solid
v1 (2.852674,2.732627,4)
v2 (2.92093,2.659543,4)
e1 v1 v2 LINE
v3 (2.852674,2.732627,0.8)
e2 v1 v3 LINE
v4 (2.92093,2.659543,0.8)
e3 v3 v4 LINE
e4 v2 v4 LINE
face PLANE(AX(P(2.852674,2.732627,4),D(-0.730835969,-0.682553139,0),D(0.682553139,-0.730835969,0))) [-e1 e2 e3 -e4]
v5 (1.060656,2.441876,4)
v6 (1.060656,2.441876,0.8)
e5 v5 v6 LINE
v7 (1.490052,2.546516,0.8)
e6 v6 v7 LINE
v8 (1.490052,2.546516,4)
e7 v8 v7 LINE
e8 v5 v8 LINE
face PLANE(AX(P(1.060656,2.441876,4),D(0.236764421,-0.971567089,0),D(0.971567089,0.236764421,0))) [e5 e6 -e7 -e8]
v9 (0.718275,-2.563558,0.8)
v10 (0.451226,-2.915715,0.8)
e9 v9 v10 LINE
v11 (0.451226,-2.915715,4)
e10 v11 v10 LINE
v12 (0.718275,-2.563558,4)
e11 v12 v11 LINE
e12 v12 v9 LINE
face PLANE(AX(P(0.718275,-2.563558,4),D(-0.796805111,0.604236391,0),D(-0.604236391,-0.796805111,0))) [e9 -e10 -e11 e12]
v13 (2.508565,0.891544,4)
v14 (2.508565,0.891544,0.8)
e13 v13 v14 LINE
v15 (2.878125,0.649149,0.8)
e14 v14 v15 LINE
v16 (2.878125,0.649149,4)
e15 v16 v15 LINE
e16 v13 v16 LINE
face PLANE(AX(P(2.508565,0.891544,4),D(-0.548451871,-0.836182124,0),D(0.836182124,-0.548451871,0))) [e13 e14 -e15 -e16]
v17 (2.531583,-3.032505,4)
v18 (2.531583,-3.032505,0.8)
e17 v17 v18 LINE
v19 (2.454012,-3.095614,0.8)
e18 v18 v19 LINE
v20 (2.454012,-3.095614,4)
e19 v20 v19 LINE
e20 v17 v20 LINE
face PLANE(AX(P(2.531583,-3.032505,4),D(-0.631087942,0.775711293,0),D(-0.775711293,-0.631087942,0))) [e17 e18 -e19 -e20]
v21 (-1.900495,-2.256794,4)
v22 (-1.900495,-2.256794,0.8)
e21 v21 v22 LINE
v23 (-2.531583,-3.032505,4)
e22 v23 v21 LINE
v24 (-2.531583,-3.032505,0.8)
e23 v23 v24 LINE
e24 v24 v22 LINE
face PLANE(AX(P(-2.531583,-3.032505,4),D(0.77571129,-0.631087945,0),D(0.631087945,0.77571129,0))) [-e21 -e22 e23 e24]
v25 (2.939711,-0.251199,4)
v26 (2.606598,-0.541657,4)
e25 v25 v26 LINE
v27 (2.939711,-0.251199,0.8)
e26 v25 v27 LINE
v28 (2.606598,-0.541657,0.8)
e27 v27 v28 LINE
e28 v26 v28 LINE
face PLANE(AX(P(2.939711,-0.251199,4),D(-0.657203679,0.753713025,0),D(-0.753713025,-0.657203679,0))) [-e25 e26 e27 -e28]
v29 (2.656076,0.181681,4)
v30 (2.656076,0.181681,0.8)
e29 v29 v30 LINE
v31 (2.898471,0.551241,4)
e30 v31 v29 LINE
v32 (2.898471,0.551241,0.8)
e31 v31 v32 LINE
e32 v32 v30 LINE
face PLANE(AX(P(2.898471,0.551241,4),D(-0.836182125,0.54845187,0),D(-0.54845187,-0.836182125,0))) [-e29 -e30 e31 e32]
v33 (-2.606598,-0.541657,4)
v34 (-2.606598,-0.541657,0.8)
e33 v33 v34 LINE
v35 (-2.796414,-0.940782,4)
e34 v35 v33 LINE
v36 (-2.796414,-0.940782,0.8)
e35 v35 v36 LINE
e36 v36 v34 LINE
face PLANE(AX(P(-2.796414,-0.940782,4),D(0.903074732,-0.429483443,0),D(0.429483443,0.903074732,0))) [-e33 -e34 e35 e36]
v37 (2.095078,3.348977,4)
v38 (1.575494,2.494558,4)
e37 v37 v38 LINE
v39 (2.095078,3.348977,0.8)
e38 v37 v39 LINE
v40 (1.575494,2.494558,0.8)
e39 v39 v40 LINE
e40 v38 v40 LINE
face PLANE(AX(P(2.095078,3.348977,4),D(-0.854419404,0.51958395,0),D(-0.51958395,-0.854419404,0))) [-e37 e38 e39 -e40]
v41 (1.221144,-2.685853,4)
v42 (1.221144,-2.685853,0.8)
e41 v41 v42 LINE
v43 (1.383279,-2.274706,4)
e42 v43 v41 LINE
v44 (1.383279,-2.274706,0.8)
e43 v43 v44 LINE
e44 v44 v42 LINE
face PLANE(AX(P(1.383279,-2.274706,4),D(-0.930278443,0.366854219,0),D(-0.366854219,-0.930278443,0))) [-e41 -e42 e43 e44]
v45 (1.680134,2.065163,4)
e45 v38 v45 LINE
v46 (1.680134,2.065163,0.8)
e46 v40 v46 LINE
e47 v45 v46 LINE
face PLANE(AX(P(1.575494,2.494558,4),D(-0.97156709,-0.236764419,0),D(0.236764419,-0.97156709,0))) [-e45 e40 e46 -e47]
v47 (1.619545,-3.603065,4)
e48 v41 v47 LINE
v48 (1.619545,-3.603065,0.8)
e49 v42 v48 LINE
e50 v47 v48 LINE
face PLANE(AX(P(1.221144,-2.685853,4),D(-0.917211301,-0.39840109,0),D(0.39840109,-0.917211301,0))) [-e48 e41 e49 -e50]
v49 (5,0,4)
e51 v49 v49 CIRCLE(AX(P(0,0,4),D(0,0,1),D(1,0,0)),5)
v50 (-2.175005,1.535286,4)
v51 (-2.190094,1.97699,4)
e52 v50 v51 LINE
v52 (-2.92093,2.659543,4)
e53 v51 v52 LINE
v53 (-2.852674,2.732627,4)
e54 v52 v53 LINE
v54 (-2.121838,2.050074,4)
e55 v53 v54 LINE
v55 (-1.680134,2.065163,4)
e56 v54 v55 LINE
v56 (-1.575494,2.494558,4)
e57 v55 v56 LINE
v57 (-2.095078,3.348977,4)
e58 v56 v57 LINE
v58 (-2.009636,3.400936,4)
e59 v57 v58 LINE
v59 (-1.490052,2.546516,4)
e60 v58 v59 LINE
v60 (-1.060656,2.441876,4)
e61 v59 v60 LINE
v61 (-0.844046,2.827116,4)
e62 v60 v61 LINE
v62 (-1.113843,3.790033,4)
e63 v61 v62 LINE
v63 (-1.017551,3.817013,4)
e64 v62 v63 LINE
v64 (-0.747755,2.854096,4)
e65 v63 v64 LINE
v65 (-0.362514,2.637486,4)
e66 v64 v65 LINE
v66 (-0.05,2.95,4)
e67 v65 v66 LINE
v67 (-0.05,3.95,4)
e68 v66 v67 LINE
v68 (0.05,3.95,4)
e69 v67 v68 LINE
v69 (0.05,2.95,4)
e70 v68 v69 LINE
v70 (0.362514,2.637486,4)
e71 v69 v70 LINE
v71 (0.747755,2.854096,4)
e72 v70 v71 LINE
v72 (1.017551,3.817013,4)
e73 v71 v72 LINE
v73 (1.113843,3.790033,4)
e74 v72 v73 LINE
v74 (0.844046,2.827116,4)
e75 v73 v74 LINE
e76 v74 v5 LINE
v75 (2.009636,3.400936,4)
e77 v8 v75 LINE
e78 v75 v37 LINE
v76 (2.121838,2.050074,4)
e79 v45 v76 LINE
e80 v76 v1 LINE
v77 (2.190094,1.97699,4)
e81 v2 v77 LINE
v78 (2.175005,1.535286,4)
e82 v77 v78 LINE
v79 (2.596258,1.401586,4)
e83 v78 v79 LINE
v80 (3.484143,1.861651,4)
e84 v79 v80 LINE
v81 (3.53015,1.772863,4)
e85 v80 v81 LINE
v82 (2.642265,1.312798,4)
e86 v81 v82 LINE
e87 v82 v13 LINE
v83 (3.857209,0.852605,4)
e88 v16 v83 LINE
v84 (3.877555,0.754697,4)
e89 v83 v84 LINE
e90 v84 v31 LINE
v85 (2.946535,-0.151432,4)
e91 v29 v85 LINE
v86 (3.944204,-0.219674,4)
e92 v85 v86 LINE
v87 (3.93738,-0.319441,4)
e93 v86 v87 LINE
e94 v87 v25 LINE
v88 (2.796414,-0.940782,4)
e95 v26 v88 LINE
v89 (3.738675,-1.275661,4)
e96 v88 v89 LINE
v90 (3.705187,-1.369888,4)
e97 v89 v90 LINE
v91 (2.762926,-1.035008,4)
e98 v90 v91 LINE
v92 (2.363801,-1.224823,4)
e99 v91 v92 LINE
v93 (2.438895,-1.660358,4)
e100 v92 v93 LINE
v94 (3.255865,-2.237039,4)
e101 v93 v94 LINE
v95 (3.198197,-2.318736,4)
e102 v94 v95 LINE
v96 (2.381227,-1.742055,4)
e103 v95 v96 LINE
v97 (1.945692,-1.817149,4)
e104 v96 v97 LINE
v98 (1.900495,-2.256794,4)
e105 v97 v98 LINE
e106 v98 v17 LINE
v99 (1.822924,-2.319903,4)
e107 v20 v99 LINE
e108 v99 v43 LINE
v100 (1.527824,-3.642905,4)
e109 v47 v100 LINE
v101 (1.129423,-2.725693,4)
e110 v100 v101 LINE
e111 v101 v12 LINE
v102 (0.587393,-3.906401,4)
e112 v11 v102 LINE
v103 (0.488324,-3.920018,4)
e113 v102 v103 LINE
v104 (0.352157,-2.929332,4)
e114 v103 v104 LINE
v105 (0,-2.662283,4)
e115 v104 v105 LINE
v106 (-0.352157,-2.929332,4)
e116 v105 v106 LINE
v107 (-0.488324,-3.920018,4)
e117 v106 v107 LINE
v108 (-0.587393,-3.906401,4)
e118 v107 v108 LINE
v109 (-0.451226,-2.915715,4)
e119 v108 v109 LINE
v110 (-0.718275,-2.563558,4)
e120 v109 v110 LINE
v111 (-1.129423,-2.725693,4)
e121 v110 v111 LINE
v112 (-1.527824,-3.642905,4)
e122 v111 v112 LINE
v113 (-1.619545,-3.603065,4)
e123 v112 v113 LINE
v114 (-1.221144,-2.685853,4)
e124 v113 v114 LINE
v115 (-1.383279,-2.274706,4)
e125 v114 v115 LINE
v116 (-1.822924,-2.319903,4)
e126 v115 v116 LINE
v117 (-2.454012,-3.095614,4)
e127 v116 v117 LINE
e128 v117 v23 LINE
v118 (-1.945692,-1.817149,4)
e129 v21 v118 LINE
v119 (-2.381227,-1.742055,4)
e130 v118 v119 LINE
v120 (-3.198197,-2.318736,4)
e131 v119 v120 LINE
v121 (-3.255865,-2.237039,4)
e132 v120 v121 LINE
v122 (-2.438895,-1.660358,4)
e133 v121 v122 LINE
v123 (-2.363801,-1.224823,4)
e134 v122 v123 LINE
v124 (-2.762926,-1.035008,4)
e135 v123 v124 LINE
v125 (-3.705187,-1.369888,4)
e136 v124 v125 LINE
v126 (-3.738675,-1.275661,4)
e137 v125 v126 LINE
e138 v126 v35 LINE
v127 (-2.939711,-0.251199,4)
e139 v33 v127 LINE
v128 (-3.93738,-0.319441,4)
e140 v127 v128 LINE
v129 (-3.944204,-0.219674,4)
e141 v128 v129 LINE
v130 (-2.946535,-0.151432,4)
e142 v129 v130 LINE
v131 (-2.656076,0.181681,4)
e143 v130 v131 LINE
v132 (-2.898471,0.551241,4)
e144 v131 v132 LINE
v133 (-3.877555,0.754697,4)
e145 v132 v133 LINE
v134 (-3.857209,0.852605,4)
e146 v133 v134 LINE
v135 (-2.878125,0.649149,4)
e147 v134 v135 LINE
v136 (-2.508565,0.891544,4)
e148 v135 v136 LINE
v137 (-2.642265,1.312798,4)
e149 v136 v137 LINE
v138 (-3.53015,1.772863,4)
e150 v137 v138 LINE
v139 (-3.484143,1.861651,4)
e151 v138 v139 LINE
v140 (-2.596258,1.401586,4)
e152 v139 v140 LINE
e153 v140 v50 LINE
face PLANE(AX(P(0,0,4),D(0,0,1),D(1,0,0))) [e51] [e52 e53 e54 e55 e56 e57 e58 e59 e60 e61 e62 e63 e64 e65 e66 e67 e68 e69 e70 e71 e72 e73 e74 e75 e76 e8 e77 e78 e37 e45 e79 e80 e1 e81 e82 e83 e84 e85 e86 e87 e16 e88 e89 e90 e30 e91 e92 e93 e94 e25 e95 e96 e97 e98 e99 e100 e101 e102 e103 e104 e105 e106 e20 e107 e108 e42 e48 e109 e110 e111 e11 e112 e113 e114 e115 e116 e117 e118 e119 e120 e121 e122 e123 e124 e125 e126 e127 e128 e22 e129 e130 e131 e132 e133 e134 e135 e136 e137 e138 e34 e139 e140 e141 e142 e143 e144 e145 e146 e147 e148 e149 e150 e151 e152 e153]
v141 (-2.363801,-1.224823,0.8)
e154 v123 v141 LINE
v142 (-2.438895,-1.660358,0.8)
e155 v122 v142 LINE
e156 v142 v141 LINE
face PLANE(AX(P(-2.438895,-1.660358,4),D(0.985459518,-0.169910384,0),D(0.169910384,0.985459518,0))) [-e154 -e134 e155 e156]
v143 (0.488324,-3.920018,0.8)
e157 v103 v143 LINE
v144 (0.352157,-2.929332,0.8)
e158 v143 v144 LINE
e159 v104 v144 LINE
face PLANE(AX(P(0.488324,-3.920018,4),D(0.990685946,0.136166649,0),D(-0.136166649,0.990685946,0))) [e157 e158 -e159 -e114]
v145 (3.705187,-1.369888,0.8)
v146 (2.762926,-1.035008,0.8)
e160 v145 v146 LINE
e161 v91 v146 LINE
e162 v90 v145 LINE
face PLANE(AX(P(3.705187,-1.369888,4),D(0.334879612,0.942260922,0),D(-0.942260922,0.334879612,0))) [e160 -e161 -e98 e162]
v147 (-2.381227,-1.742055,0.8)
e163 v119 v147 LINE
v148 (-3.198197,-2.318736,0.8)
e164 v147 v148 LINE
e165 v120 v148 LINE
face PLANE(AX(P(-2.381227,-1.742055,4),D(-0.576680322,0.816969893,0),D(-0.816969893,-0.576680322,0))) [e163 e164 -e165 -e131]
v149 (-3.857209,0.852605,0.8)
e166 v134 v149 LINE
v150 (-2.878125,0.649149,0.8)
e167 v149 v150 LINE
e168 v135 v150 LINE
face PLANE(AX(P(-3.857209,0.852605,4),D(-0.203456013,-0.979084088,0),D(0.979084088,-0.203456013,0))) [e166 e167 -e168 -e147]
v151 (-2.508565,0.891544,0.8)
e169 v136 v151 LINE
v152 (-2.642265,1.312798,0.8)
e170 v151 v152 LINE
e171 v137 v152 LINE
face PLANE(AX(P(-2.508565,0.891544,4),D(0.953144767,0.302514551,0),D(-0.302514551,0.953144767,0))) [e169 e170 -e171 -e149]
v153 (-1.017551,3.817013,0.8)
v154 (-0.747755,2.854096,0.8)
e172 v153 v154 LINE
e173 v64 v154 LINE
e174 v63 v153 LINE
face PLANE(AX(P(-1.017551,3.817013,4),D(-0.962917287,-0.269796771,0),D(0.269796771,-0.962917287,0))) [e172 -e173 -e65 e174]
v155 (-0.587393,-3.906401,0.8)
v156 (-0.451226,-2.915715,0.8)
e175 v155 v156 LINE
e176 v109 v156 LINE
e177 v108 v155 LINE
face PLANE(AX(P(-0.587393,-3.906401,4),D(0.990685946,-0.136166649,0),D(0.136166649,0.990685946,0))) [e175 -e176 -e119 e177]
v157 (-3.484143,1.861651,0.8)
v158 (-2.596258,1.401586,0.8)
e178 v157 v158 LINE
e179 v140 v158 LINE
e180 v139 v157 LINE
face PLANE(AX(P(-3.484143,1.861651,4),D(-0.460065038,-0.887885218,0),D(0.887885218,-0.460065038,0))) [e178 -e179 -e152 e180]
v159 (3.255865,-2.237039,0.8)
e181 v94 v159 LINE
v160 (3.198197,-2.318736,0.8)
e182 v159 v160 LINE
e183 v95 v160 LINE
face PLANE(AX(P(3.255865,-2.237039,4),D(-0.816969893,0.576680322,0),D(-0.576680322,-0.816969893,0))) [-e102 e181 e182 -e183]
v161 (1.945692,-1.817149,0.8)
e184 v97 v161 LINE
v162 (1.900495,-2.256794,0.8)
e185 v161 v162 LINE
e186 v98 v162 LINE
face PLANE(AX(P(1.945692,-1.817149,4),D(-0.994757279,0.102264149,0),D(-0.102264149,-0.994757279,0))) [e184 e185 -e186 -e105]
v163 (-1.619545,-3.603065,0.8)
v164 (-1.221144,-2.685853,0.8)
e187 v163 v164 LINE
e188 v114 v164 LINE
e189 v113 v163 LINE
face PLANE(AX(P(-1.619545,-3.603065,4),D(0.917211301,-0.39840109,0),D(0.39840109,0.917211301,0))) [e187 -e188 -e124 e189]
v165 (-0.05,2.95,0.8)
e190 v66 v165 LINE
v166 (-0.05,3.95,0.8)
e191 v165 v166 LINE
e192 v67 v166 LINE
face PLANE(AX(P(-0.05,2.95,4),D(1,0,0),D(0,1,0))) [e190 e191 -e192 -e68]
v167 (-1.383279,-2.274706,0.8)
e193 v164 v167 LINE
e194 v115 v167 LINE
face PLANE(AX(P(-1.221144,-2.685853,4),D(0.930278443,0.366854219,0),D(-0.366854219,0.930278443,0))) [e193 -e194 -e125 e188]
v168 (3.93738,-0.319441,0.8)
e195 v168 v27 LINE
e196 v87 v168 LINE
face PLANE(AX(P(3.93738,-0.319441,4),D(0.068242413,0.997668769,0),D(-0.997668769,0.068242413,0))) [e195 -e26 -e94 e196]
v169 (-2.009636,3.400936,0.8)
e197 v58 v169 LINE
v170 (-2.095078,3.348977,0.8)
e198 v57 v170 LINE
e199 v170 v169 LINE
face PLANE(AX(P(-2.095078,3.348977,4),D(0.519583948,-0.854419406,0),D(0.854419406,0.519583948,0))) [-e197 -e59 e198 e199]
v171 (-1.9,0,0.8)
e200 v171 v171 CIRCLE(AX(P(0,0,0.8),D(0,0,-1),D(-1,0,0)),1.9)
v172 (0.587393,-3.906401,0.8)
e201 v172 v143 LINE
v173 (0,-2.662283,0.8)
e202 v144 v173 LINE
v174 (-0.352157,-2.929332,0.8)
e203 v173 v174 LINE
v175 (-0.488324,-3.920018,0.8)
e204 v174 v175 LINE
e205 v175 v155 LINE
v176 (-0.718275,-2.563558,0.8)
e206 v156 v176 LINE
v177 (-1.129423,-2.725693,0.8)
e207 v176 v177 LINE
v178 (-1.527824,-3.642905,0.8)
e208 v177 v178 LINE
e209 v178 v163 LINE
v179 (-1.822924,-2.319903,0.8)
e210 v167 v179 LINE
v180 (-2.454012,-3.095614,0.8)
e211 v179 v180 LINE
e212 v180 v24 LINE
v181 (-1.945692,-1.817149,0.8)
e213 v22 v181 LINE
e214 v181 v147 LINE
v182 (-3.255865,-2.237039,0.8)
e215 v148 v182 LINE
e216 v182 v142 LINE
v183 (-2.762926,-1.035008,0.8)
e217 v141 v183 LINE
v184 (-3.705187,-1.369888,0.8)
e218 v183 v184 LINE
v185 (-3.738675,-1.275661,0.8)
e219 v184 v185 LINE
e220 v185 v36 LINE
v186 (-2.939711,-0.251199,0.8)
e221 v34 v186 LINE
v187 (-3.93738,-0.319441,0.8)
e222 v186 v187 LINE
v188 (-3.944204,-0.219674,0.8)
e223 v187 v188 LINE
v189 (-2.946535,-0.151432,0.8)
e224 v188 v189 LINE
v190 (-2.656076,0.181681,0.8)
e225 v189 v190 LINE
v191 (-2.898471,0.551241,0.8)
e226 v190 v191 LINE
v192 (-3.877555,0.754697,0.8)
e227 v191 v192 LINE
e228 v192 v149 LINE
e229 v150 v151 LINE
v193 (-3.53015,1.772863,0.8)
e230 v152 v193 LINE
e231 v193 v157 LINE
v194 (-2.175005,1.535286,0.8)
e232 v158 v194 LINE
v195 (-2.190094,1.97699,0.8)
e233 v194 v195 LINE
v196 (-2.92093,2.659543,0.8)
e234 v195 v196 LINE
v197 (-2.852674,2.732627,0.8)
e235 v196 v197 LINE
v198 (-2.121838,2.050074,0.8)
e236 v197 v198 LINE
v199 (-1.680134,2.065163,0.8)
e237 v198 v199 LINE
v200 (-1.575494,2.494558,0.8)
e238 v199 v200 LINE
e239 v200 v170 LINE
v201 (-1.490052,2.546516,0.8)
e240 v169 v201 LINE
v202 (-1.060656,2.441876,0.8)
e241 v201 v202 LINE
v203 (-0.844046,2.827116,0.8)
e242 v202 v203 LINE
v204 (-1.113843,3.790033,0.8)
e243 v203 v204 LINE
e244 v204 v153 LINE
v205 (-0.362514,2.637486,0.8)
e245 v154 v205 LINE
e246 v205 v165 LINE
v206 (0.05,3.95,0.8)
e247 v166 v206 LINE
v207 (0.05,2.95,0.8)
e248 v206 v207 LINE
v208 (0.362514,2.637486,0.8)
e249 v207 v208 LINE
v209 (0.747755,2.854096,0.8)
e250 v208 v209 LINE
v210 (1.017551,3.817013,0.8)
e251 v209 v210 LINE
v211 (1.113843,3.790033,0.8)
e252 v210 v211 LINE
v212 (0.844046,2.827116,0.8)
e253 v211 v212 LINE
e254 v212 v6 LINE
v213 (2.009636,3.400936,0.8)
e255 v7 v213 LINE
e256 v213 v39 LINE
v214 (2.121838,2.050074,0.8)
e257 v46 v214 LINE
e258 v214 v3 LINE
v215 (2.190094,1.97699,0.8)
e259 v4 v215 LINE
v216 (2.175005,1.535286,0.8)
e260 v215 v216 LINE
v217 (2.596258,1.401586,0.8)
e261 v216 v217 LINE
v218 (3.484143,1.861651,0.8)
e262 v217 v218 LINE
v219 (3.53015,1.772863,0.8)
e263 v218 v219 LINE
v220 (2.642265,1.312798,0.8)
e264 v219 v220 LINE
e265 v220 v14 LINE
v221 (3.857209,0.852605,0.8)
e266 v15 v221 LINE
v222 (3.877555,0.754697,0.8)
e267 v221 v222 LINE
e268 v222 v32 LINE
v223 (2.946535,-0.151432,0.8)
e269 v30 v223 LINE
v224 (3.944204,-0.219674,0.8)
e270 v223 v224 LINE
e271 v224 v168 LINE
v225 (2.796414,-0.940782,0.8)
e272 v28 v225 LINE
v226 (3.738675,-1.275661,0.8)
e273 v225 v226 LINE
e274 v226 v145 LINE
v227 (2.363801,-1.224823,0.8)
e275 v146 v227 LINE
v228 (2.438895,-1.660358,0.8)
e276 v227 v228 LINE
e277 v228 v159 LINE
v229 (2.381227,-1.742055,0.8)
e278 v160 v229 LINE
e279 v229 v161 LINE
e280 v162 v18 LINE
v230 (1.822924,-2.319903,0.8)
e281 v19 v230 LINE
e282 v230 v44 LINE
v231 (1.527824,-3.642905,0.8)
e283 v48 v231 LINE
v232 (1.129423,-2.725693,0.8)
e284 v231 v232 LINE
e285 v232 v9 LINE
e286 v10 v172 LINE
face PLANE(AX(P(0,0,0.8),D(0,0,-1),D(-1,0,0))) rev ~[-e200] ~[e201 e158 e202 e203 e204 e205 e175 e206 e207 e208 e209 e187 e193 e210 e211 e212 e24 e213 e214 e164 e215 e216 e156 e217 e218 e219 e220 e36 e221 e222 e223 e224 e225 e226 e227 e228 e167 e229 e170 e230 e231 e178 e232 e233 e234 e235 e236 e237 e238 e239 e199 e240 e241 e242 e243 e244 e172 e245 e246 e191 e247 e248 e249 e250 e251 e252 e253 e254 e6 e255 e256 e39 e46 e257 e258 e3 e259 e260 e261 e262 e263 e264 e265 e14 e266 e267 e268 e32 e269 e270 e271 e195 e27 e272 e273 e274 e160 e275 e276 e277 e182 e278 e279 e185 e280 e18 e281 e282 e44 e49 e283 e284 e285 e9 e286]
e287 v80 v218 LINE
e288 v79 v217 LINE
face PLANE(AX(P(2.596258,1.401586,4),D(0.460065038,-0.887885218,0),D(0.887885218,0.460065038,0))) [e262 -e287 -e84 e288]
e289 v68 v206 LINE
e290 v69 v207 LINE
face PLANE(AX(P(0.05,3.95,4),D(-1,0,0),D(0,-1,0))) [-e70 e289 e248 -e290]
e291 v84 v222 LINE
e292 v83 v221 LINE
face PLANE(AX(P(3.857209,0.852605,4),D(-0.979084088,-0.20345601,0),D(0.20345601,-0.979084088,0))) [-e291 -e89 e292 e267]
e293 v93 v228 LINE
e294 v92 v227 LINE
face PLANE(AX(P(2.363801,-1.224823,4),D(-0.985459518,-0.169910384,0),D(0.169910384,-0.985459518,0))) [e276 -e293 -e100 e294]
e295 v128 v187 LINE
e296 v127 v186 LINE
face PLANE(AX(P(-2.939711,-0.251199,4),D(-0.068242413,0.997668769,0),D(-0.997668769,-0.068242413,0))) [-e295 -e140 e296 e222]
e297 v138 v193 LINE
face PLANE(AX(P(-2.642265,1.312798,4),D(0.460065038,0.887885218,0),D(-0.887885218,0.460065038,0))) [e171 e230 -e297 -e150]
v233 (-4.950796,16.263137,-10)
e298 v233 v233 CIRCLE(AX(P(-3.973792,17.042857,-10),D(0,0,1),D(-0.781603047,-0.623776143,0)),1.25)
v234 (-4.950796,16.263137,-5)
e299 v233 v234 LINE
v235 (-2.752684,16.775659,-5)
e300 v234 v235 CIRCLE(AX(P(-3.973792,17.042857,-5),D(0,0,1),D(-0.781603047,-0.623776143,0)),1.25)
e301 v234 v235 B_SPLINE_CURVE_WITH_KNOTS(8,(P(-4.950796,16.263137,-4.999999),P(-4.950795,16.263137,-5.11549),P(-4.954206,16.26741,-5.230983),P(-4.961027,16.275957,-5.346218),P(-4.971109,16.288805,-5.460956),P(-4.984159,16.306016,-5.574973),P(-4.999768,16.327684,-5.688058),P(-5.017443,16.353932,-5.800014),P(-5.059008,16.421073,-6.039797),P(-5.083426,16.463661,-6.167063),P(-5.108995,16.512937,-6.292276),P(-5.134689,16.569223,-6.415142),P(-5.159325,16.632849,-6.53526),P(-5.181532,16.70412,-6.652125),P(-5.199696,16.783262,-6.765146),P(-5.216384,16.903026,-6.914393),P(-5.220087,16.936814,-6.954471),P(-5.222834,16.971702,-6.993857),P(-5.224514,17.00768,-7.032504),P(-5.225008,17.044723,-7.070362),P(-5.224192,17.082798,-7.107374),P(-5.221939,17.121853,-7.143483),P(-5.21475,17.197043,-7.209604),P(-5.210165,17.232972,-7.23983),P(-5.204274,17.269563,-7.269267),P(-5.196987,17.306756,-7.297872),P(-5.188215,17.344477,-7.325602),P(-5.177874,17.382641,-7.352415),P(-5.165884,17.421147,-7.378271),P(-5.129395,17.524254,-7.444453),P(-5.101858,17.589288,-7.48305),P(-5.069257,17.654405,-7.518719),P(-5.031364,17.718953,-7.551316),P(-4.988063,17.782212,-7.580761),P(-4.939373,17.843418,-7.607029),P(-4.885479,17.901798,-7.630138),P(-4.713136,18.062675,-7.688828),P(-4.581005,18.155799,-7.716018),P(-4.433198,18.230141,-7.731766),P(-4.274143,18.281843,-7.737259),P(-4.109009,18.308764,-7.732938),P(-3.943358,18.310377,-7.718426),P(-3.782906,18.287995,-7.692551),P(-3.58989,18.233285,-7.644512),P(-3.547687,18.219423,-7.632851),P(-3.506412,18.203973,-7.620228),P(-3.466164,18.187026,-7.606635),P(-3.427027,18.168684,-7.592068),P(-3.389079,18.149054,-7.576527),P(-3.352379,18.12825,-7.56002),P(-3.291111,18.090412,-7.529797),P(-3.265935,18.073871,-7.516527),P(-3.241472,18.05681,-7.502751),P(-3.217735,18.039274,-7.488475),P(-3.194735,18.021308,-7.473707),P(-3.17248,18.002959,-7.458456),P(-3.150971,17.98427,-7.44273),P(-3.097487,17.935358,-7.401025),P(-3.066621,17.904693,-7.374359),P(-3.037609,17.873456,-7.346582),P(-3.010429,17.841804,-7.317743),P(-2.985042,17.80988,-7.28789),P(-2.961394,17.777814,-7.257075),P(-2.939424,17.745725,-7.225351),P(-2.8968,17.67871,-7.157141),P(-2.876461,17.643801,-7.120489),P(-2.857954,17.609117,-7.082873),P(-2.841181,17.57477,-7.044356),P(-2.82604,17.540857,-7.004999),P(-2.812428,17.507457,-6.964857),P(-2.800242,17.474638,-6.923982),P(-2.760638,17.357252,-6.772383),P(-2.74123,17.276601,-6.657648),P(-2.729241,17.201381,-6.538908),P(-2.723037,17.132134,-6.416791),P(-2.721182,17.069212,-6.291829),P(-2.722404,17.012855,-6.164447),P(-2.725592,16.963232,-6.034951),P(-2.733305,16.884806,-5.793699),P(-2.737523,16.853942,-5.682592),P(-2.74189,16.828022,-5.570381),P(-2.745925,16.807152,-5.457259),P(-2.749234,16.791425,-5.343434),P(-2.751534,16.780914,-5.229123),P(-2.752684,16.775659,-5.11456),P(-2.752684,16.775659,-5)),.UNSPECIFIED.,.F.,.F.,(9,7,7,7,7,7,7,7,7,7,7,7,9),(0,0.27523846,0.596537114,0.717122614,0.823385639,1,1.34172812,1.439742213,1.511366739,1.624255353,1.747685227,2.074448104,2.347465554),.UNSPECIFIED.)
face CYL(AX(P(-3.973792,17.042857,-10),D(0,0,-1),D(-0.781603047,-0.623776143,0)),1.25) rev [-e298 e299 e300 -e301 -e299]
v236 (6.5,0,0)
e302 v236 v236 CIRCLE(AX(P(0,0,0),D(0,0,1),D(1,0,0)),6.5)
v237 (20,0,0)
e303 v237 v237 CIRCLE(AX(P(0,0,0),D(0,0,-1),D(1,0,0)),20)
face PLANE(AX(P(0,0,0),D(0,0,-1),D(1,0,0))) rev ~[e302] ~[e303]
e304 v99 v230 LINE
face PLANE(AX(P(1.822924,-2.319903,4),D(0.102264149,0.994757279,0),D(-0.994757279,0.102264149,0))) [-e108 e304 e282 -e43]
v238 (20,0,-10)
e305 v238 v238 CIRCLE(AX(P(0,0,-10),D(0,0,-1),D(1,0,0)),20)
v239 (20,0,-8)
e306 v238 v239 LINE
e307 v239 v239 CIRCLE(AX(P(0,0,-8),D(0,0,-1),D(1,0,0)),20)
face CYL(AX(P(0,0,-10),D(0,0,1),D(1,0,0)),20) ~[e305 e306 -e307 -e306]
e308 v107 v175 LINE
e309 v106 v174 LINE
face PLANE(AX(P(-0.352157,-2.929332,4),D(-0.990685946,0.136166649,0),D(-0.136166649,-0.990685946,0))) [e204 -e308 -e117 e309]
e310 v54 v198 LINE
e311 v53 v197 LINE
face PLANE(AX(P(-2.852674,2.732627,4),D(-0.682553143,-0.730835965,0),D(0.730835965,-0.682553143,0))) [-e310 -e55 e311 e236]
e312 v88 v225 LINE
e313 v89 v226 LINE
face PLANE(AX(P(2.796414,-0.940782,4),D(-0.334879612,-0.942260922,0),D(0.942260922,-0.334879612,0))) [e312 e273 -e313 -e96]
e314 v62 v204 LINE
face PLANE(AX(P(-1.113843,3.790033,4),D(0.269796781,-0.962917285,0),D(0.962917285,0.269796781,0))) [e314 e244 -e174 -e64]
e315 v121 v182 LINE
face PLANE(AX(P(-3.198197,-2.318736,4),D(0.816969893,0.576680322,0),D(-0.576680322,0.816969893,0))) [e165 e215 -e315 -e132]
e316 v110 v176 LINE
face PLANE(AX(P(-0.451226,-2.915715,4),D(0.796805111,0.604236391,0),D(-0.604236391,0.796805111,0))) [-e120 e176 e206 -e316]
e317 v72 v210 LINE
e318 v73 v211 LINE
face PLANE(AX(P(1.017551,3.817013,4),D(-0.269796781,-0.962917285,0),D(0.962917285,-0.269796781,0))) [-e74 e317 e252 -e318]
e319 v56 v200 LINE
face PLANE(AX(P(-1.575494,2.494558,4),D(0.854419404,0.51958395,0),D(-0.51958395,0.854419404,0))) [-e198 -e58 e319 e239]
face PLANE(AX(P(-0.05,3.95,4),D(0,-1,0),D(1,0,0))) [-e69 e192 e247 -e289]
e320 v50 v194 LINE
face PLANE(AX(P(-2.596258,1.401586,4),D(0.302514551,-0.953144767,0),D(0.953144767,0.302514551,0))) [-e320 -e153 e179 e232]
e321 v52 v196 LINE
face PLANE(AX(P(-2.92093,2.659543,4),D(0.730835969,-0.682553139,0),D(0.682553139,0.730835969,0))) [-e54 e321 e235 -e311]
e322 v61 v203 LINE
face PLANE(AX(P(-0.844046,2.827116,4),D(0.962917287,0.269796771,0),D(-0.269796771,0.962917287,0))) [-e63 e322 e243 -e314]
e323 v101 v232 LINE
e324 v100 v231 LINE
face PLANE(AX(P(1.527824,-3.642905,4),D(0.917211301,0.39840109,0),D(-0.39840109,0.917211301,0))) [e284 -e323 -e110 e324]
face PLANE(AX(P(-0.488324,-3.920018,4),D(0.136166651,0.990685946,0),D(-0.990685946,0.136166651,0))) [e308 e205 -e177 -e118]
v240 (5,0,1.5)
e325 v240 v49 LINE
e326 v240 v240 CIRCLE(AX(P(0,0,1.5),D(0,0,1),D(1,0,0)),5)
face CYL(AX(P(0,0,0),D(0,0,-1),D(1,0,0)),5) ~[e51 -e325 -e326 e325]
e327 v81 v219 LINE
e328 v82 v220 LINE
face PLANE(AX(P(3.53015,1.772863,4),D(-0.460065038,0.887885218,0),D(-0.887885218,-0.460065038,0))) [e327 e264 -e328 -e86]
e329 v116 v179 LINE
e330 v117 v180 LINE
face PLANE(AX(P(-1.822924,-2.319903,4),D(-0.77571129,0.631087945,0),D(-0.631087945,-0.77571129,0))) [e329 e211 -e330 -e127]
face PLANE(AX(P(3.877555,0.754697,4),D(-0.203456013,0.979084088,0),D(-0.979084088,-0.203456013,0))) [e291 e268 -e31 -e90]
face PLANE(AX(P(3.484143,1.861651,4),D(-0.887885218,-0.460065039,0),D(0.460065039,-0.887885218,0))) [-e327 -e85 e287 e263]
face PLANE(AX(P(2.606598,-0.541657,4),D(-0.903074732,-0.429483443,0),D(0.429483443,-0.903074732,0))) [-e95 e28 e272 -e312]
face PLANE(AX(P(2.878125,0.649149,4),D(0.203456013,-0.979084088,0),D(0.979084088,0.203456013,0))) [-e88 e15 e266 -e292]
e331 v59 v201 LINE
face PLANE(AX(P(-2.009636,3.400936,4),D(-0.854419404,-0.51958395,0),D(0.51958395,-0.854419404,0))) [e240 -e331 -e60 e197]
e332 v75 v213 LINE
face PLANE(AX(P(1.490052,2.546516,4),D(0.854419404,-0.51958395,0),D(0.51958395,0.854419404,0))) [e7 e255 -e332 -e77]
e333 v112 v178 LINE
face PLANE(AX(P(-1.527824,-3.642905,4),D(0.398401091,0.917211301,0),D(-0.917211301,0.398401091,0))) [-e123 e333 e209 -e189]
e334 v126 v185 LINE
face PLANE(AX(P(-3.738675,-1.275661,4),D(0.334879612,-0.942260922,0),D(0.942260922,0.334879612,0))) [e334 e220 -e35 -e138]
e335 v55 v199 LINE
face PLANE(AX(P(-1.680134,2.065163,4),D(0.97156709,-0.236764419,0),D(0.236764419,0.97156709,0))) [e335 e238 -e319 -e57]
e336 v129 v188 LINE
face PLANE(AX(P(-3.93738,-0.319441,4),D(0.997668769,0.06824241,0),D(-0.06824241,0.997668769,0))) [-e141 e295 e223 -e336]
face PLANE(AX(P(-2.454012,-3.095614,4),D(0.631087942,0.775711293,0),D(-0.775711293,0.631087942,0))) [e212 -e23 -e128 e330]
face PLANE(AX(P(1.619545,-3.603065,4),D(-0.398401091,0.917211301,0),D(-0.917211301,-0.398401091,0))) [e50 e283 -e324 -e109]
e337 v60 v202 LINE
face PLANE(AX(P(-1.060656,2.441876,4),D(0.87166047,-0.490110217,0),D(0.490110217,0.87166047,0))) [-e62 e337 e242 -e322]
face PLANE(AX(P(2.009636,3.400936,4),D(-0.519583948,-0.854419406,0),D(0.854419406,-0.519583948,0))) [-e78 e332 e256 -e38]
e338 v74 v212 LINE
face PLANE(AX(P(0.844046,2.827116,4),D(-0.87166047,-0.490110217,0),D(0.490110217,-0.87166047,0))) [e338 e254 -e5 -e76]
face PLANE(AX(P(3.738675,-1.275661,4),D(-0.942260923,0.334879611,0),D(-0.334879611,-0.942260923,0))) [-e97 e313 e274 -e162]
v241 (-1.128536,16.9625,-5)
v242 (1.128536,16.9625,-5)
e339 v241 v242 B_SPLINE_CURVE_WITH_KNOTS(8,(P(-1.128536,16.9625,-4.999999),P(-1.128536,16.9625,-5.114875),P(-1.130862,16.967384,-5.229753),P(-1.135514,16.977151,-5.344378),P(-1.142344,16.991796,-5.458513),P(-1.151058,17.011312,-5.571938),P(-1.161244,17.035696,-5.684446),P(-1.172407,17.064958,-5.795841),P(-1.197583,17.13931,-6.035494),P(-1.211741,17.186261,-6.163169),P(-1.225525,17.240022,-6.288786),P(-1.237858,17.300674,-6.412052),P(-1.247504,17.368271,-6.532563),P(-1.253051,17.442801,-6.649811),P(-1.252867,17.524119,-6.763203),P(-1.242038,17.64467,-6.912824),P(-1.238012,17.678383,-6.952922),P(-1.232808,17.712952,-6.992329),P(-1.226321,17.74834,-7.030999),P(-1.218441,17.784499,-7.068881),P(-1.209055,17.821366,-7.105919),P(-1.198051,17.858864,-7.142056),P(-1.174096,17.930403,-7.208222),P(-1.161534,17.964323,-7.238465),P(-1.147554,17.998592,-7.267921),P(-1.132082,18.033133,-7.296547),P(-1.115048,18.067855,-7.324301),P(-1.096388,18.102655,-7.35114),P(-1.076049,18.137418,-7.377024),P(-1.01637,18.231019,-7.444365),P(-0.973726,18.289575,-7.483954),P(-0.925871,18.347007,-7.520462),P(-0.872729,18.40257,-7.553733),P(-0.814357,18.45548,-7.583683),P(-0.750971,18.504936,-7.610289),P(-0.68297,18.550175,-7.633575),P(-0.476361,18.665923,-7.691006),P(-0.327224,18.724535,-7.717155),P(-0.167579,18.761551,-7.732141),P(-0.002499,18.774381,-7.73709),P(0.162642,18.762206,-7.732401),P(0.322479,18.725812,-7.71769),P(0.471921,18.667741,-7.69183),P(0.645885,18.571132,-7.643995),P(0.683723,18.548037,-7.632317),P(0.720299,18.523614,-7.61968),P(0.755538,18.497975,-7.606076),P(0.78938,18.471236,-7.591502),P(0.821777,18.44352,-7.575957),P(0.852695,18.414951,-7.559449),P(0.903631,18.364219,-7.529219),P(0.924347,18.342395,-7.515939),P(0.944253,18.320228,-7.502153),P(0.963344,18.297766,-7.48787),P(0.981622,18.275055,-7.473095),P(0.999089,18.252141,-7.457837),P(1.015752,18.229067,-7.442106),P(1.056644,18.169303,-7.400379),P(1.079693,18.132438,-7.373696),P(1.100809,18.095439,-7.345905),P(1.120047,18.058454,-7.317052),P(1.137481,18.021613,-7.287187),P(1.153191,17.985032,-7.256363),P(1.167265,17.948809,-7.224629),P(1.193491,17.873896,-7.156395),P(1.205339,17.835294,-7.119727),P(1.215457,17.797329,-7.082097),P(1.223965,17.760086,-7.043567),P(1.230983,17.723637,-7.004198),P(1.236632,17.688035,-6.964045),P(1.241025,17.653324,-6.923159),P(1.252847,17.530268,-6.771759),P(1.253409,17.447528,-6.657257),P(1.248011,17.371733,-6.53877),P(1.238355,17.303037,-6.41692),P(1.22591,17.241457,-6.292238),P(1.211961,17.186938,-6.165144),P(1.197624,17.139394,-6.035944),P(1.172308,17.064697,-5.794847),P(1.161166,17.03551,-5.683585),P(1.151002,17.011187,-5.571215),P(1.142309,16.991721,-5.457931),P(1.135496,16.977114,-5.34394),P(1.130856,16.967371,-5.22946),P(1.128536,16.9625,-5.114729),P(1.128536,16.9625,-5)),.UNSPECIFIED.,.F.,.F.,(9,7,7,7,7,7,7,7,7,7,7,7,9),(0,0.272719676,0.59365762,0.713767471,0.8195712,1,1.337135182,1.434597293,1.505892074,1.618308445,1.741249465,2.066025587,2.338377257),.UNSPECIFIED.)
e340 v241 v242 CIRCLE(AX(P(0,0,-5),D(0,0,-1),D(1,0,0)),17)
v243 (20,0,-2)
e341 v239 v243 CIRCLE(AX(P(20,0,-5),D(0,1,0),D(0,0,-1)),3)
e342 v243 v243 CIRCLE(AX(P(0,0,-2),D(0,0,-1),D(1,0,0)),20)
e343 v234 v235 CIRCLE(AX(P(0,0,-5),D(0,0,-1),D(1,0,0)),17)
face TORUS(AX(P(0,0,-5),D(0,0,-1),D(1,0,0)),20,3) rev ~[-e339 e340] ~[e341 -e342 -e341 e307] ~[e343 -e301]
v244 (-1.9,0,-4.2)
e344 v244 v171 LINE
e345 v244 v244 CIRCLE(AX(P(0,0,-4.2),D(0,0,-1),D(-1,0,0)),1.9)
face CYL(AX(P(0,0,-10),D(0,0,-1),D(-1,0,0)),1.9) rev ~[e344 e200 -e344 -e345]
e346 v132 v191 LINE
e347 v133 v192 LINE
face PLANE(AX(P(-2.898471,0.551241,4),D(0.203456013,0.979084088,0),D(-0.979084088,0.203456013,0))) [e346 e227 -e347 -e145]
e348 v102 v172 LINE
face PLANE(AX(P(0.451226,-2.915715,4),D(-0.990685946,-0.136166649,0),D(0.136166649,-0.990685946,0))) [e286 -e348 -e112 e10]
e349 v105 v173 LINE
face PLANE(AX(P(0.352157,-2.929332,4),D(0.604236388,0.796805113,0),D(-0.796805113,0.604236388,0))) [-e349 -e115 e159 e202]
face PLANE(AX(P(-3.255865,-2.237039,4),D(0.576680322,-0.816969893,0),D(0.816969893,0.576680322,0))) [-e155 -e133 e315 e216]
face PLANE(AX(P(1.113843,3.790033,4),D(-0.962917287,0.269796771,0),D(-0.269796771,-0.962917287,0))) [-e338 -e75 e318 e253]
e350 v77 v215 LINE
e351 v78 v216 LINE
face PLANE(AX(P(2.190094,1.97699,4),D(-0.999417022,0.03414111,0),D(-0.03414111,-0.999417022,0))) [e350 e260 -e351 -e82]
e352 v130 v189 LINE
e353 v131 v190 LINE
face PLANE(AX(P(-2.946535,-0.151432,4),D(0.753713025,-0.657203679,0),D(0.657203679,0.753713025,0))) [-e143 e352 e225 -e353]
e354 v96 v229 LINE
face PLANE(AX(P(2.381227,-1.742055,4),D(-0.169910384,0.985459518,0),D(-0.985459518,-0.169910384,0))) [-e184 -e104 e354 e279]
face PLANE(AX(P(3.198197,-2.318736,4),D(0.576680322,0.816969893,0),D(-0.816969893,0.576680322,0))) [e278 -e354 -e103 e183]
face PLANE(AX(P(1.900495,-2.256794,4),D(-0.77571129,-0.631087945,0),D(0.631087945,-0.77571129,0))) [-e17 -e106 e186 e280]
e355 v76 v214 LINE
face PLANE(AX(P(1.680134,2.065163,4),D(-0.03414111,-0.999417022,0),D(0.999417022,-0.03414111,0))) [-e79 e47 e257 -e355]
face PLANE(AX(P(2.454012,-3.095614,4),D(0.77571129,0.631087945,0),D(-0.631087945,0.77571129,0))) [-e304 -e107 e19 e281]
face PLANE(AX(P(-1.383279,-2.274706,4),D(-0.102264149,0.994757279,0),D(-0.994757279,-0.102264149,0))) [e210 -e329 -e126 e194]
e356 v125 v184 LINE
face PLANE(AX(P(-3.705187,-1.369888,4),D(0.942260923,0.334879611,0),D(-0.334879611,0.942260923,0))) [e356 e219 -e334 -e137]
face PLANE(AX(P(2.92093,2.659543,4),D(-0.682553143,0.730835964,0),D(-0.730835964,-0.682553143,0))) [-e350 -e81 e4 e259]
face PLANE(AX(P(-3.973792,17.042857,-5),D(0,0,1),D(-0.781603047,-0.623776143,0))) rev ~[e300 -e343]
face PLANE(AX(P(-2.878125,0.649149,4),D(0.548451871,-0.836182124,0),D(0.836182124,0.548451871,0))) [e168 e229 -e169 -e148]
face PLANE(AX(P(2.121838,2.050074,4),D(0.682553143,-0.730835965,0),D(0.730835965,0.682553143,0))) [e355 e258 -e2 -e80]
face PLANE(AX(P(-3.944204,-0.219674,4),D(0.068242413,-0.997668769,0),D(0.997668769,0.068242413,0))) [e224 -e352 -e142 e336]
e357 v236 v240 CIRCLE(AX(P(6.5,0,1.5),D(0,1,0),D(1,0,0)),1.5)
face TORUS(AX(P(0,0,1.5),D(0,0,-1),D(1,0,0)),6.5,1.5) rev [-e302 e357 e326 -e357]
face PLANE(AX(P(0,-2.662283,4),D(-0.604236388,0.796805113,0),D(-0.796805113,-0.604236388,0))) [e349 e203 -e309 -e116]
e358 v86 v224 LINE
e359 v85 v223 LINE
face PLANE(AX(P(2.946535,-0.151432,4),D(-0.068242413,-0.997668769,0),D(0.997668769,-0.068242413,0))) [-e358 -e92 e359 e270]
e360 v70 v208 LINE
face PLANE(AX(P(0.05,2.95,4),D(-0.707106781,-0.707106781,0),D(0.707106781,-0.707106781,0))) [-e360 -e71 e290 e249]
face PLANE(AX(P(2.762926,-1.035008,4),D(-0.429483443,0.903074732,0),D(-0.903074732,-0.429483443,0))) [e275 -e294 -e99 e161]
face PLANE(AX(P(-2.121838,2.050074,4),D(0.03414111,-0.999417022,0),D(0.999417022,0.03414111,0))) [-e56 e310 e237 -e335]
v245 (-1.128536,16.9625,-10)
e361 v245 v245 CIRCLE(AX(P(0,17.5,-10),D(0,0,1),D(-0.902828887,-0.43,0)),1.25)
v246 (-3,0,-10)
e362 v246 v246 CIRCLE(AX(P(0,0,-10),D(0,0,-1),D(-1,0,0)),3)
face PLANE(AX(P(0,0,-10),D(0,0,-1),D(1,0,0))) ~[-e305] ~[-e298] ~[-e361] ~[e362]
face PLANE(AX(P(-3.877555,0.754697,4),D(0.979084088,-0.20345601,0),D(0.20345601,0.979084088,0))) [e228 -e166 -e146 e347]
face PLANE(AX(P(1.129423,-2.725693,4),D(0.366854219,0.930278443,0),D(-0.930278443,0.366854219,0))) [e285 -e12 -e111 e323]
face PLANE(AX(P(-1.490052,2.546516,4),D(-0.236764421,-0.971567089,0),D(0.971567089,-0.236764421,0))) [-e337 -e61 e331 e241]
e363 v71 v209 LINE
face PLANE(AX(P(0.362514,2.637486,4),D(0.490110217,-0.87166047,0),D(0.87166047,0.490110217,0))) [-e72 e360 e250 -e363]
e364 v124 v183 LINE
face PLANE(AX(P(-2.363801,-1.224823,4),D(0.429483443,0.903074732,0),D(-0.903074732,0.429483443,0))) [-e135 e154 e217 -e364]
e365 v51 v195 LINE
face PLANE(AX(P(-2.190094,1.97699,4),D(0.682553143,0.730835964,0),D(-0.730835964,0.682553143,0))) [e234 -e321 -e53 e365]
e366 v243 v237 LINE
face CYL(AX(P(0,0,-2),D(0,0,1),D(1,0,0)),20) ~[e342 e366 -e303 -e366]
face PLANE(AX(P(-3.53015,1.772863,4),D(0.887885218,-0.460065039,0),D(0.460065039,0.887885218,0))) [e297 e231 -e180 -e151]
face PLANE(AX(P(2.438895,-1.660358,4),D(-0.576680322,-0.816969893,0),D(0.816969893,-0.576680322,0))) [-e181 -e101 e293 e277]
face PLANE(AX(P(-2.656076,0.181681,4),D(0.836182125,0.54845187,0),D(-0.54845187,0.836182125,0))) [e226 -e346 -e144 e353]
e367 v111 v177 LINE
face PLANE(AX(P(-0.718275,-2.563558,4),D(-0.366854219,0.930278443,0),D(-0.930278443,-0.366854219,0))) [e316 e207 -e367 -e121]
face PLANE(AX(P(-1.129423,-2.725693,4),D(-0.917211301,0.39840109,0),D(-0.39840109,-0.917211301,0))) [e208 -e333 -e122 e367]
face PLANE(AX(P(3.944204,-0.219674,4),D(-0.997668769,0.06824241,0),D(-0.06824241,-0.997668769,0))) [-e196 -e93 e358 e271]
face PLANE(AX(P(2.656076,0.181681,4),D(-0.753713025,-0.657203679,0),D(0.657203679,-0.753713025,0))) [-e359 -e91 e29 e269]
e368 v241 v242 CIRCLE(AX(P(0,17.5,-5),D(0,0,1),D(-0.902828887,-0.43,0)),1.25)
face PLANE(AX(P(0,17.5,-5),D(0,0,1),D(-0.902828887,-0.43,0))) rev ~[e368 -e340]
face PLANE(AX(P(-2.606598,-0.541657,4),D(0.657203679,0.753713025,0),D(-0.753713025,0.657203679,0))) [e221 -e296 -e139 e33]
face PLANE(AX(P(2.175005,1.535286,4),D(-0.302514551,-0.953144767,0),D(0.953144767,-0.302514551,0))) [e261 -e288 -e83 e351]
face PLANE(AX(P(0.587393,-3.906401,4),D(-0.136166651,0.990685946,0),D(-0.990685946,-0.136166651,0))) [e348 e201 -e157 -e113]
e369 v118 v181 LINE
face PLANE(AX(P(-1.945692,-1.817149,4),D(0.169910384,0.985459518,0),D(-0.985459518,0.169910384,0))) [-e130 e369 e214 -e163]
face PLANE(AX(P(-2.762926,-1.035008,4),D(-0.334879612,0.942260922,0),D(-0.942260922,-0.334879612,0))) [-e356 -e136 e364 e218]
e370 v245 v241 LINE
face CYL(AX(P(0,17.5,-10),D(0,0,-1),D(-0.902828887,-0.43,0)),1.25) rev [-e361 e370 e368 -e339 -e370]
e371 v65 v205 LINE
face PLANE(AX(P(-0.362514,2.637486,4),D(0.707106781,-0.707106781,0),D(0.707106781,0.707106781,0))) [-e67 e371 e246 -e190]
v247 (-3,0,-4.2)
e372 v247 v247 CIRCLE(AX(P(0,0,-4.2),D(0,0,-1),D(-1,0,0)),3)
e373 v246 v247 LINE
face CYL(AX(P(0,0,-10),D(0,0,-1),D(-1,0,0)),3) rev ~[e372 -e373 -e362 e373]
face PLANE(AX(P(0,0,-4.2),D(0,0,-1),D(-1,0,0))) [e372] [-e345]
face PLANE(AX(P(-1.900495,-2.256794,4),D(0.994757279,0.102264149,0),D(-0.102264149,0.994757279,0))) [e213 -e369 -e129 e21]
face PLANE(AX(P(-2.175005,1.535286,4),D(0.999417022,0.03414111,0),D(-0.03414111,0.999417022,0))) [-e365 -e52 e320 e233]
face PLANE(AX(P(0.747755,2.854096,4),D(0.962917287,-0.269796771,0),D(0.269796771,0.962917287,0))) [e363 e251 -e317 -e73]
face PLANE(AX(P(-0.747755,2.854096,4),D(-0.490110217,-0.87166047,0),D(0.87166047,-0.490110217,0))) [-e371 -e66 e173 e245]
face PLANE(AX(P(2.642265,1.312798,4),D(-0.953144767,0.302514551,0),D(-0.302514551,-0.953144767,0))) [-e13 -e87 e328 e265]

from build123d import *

# Parameters (mm, degrees)
SKETCH_6_R          = 5
EXTRUDE_3_DEPTH     = 4
CUT_EXTRUDE_START   = 4
CUT_EXTRUDE_5_DEPTH = 3.2
FILLET_2_R          = 1.5
SKETCH_9_R          = 1.9
CUT_EXTRUDE_6_DEPTH = 32.559467676
SKETCH_10_R         = 3
CUT_EXTRUDE_7_DEPTH = 5.8
SKETCH_11_R         = 1.25
CUT_EXTRUDE_8_DEPTH = 5


with BuildPart() as part:
    # ｽｹｯﾁ8 → 回転1 (revolve)
    with BuildSketch(Plane(origin=(0, 0, 0), x_dir=(1, 0, 0), z_dir=(0, 1, 0))):
        with BuildLine():
            Line((0, 0), (0, 10))
            Line((0, 10), (20, 10))
            Line((20, 10), (20, 8))
            ThreePointArc((20, 8), (17, 5), (20, 2))
            Line((20, 2), (20, 0))
            Line((20, 0), (0, 0))
        make_face()
    revolve(axis=Axis((0, 0, 0), (0, 0, -1)))

    # ｽｹｯﾁ6 → ﾎﾞｽ - 押し出し3 (add)
    with BuildSketch(Plane.XY):
        Circle(SKETCH_6_R)
    extrude(amount=EXTRUDE_3_DEPTH)

    # ｽｹｯﾁ5 → ｶｯﾄ - 押し出し5 (cut)
    with BuildSketch(Plane.XY.offset(CUT_EXTRUDE_START)):
        Polygon((-0.05, 2.95), (-0.05, 3.95), (0.05, 3.95), (0.05, 2.95), (0.362514094, 2.637485906), (0.747754611, 2.854095836), (1.017551382, 3.817013124), (1.11384311, 3.790033446), (0.844046339, 2.827116159), (1.060656269, 2.441875642), (1.490051682, 2.546516441), (2.009635632, 3.400935845), (2.095077573, 3.34897745), (1.575493623, 2.494558046), (1.680134421, 2.065162633), (2.121838437, 2.050073571), (2.852674402, 2.732626714), (2.920929716, 2.659543117), (2.190093752, 1.976989974), (2.17500469, 1.535285958), (2.596258142, 1.401586122), (3.484143361, 1.86165116), (3.530149865, 1.772862638), (2.642264646, 1.3127976), (2.50856481, 0.891544148), (2.878125258, 0.649149443), (3.857209346, 0.852605456), (3.877554947, 0.754697047), (2.898470859, 0.551241034), (2.656076155, 0.181680586), (2.94653499, -0.151431681), (3.944203759, -0.219674094), (3.937379518, -0.319440971), (2.939710748, -0.251198558), (2.606598481, -0.541657393), (2.796413701, -0.94078181), (3.738674623, -1.275661422), (3.705186662, -1.369887514), (2.76292574, -1.035007902), (2.363801323, -1.224823122), (2.4388952, -1.660358456), (3.255865093, -2.237038778), (3.198197061, -2.318735767), (2.381227168, -1.742055445), (1.945691834, -1.817149322), (1.900495, -2.25679391), (2.531582945, -3.032505201), (2.454011816, -3.095613995), (1.822923871, -2.319902705), (1.383279283, -2.274705871), (1.22114378, -2.685853285), (1.61954487, -3.603064586), (1.52782374, -3.642904695), (1.12942265, -2.725693394), (0.718275236, -2.563557891), (0.451225912, -2.915715208), (0.587392561, -3.906401154), (0.488323967, -3.920017819), (0.352157318, -2.929331873), (0, -2.66228255), (-0.352157318, -2.929331873), (-0.488323967, -3.920017819), (-0.587392561, -3.906401154), (-0.451225912, -2.915715208), (-0.718275236, -2.563557891), (-1.12942265, -2.725693394), (-1.52782374, -3.642904695), (-1.61954487, -3.603064586), (-1.22114378, -2.685853285), (-1.383279283, -2.274705871), (-1.822923871, -2.319902705), (-2.454011816, -3.095613995), (-2.531582945, -3.032505201), (-1.900495, -2.25679391), (-1.945691834, -1.817149322), (-2.381227168, -1.742055445), (-3.198197061, -2.318735767), (-3.255865093, -2.237038778), (-2.4388952, -1.660358456), (-2.363801323, -1.224823122), (-2.76292574, -1.035007902), (-3.705186662, -1.369887514), (-3.738674623, -1.275661422), (-2.796413701, -0.94078181), (-2.606598481, -0.541657393), (-2.939710748, -0.251198558), (-3.937379518, -0.319440971), (-3.944203759, -0.219674094), (-2.94653499, -0.151431681), (-2.656076155, 0.181680586), (-2.898470859, 0.551241034), (-3.877554947, 0.754697047), (-3.857209346, 0.852605456), (-2.878125258, 0.649149443), (-2.50856481, 0.891544148), (-2.642264646, 1.3127976), (-3.530149865, 1.772862638), (-3.484143361, 1.86165116), (-2.596258142, 1.401586122), (-2.17500469, 1.535285958), (-2.190093752, 1.976989974), (-2.920929716, 2.659543117), (-2.852674402, 2.732626714), (-2.121838437, 2.050073571), (-1.680134421, 2.065162633), (-1.575493623, 2.494558046), (-2.095077573, 3.34897745), (-2.009635632, 3.400935845), (-1.490051682, 2.546516441), (-1.060656269, 2.441875642), (-0.844046339, 2.827116159), (-1.11384311, 3.790033446), (-1.017551382, 3.817013124), (-0.747754611, 2.854095836), (-0.362514094, 2.637485906), align=None)
    extrude(amount=-CUT_EXTRUDE_5_DEPTH, mode=Mode.SUBTRACT)

    # ﾌｨﾚｯﾄ2
    fillet_2_edges = [part.edges().sort_by_distance(p)[0] for p in [
        (-5, 0, 0),
    ]]
    fillet(fillet_2_edges, radius=FILLET_2_R)

    # ｽｹｯﾁ9 → ｶｯﾄ - 押し出し6 (cut, through all)
    with BuildSketch(Plane(origin=(0, 0, -10), x_dir=(-1, 0, 0), z_dir=(0, 0, -1))):
        Circle(SKETCH_9_R)
    extrude(amount=-CUT_EXTRUDE_6_DEPTH, mode=Mode.SUBTRACT)

    # ｽｹｯﾁ10 → ｶｯﾄ - 押し出し7 (cut)
    with BuildSketch(Plane(origin=(0, 0, -10), x_dir=(-1, 0, 0), z_dir=(0, 0, -1))):
        Circle(SKETCH_10_R)
    extrude(amount=-CUT_EXTRUDE_7_DEPTH, mode=Mode.SUBTRACT)

    # ｽｹｯﾁ11 → ｶｯﾄ - 押し出し8 (cut)
    with BuildSketch(Plane.XY.offset(-10)):
        with Locations(Location((0, 17.5, 0), (0, 0, 205.467560142))):
            Circle(SKETCH_11_R)
        with Locations(Location((-3.973791692, 17.042857143, 0), (0, 0, 218.59241588))):
            Circle(SKETCH_11_R)
    extrude(amount=CUT_EXTRUDE_8_DEPTH, mode=Mode.SUBTRACT)


solid = part.part
